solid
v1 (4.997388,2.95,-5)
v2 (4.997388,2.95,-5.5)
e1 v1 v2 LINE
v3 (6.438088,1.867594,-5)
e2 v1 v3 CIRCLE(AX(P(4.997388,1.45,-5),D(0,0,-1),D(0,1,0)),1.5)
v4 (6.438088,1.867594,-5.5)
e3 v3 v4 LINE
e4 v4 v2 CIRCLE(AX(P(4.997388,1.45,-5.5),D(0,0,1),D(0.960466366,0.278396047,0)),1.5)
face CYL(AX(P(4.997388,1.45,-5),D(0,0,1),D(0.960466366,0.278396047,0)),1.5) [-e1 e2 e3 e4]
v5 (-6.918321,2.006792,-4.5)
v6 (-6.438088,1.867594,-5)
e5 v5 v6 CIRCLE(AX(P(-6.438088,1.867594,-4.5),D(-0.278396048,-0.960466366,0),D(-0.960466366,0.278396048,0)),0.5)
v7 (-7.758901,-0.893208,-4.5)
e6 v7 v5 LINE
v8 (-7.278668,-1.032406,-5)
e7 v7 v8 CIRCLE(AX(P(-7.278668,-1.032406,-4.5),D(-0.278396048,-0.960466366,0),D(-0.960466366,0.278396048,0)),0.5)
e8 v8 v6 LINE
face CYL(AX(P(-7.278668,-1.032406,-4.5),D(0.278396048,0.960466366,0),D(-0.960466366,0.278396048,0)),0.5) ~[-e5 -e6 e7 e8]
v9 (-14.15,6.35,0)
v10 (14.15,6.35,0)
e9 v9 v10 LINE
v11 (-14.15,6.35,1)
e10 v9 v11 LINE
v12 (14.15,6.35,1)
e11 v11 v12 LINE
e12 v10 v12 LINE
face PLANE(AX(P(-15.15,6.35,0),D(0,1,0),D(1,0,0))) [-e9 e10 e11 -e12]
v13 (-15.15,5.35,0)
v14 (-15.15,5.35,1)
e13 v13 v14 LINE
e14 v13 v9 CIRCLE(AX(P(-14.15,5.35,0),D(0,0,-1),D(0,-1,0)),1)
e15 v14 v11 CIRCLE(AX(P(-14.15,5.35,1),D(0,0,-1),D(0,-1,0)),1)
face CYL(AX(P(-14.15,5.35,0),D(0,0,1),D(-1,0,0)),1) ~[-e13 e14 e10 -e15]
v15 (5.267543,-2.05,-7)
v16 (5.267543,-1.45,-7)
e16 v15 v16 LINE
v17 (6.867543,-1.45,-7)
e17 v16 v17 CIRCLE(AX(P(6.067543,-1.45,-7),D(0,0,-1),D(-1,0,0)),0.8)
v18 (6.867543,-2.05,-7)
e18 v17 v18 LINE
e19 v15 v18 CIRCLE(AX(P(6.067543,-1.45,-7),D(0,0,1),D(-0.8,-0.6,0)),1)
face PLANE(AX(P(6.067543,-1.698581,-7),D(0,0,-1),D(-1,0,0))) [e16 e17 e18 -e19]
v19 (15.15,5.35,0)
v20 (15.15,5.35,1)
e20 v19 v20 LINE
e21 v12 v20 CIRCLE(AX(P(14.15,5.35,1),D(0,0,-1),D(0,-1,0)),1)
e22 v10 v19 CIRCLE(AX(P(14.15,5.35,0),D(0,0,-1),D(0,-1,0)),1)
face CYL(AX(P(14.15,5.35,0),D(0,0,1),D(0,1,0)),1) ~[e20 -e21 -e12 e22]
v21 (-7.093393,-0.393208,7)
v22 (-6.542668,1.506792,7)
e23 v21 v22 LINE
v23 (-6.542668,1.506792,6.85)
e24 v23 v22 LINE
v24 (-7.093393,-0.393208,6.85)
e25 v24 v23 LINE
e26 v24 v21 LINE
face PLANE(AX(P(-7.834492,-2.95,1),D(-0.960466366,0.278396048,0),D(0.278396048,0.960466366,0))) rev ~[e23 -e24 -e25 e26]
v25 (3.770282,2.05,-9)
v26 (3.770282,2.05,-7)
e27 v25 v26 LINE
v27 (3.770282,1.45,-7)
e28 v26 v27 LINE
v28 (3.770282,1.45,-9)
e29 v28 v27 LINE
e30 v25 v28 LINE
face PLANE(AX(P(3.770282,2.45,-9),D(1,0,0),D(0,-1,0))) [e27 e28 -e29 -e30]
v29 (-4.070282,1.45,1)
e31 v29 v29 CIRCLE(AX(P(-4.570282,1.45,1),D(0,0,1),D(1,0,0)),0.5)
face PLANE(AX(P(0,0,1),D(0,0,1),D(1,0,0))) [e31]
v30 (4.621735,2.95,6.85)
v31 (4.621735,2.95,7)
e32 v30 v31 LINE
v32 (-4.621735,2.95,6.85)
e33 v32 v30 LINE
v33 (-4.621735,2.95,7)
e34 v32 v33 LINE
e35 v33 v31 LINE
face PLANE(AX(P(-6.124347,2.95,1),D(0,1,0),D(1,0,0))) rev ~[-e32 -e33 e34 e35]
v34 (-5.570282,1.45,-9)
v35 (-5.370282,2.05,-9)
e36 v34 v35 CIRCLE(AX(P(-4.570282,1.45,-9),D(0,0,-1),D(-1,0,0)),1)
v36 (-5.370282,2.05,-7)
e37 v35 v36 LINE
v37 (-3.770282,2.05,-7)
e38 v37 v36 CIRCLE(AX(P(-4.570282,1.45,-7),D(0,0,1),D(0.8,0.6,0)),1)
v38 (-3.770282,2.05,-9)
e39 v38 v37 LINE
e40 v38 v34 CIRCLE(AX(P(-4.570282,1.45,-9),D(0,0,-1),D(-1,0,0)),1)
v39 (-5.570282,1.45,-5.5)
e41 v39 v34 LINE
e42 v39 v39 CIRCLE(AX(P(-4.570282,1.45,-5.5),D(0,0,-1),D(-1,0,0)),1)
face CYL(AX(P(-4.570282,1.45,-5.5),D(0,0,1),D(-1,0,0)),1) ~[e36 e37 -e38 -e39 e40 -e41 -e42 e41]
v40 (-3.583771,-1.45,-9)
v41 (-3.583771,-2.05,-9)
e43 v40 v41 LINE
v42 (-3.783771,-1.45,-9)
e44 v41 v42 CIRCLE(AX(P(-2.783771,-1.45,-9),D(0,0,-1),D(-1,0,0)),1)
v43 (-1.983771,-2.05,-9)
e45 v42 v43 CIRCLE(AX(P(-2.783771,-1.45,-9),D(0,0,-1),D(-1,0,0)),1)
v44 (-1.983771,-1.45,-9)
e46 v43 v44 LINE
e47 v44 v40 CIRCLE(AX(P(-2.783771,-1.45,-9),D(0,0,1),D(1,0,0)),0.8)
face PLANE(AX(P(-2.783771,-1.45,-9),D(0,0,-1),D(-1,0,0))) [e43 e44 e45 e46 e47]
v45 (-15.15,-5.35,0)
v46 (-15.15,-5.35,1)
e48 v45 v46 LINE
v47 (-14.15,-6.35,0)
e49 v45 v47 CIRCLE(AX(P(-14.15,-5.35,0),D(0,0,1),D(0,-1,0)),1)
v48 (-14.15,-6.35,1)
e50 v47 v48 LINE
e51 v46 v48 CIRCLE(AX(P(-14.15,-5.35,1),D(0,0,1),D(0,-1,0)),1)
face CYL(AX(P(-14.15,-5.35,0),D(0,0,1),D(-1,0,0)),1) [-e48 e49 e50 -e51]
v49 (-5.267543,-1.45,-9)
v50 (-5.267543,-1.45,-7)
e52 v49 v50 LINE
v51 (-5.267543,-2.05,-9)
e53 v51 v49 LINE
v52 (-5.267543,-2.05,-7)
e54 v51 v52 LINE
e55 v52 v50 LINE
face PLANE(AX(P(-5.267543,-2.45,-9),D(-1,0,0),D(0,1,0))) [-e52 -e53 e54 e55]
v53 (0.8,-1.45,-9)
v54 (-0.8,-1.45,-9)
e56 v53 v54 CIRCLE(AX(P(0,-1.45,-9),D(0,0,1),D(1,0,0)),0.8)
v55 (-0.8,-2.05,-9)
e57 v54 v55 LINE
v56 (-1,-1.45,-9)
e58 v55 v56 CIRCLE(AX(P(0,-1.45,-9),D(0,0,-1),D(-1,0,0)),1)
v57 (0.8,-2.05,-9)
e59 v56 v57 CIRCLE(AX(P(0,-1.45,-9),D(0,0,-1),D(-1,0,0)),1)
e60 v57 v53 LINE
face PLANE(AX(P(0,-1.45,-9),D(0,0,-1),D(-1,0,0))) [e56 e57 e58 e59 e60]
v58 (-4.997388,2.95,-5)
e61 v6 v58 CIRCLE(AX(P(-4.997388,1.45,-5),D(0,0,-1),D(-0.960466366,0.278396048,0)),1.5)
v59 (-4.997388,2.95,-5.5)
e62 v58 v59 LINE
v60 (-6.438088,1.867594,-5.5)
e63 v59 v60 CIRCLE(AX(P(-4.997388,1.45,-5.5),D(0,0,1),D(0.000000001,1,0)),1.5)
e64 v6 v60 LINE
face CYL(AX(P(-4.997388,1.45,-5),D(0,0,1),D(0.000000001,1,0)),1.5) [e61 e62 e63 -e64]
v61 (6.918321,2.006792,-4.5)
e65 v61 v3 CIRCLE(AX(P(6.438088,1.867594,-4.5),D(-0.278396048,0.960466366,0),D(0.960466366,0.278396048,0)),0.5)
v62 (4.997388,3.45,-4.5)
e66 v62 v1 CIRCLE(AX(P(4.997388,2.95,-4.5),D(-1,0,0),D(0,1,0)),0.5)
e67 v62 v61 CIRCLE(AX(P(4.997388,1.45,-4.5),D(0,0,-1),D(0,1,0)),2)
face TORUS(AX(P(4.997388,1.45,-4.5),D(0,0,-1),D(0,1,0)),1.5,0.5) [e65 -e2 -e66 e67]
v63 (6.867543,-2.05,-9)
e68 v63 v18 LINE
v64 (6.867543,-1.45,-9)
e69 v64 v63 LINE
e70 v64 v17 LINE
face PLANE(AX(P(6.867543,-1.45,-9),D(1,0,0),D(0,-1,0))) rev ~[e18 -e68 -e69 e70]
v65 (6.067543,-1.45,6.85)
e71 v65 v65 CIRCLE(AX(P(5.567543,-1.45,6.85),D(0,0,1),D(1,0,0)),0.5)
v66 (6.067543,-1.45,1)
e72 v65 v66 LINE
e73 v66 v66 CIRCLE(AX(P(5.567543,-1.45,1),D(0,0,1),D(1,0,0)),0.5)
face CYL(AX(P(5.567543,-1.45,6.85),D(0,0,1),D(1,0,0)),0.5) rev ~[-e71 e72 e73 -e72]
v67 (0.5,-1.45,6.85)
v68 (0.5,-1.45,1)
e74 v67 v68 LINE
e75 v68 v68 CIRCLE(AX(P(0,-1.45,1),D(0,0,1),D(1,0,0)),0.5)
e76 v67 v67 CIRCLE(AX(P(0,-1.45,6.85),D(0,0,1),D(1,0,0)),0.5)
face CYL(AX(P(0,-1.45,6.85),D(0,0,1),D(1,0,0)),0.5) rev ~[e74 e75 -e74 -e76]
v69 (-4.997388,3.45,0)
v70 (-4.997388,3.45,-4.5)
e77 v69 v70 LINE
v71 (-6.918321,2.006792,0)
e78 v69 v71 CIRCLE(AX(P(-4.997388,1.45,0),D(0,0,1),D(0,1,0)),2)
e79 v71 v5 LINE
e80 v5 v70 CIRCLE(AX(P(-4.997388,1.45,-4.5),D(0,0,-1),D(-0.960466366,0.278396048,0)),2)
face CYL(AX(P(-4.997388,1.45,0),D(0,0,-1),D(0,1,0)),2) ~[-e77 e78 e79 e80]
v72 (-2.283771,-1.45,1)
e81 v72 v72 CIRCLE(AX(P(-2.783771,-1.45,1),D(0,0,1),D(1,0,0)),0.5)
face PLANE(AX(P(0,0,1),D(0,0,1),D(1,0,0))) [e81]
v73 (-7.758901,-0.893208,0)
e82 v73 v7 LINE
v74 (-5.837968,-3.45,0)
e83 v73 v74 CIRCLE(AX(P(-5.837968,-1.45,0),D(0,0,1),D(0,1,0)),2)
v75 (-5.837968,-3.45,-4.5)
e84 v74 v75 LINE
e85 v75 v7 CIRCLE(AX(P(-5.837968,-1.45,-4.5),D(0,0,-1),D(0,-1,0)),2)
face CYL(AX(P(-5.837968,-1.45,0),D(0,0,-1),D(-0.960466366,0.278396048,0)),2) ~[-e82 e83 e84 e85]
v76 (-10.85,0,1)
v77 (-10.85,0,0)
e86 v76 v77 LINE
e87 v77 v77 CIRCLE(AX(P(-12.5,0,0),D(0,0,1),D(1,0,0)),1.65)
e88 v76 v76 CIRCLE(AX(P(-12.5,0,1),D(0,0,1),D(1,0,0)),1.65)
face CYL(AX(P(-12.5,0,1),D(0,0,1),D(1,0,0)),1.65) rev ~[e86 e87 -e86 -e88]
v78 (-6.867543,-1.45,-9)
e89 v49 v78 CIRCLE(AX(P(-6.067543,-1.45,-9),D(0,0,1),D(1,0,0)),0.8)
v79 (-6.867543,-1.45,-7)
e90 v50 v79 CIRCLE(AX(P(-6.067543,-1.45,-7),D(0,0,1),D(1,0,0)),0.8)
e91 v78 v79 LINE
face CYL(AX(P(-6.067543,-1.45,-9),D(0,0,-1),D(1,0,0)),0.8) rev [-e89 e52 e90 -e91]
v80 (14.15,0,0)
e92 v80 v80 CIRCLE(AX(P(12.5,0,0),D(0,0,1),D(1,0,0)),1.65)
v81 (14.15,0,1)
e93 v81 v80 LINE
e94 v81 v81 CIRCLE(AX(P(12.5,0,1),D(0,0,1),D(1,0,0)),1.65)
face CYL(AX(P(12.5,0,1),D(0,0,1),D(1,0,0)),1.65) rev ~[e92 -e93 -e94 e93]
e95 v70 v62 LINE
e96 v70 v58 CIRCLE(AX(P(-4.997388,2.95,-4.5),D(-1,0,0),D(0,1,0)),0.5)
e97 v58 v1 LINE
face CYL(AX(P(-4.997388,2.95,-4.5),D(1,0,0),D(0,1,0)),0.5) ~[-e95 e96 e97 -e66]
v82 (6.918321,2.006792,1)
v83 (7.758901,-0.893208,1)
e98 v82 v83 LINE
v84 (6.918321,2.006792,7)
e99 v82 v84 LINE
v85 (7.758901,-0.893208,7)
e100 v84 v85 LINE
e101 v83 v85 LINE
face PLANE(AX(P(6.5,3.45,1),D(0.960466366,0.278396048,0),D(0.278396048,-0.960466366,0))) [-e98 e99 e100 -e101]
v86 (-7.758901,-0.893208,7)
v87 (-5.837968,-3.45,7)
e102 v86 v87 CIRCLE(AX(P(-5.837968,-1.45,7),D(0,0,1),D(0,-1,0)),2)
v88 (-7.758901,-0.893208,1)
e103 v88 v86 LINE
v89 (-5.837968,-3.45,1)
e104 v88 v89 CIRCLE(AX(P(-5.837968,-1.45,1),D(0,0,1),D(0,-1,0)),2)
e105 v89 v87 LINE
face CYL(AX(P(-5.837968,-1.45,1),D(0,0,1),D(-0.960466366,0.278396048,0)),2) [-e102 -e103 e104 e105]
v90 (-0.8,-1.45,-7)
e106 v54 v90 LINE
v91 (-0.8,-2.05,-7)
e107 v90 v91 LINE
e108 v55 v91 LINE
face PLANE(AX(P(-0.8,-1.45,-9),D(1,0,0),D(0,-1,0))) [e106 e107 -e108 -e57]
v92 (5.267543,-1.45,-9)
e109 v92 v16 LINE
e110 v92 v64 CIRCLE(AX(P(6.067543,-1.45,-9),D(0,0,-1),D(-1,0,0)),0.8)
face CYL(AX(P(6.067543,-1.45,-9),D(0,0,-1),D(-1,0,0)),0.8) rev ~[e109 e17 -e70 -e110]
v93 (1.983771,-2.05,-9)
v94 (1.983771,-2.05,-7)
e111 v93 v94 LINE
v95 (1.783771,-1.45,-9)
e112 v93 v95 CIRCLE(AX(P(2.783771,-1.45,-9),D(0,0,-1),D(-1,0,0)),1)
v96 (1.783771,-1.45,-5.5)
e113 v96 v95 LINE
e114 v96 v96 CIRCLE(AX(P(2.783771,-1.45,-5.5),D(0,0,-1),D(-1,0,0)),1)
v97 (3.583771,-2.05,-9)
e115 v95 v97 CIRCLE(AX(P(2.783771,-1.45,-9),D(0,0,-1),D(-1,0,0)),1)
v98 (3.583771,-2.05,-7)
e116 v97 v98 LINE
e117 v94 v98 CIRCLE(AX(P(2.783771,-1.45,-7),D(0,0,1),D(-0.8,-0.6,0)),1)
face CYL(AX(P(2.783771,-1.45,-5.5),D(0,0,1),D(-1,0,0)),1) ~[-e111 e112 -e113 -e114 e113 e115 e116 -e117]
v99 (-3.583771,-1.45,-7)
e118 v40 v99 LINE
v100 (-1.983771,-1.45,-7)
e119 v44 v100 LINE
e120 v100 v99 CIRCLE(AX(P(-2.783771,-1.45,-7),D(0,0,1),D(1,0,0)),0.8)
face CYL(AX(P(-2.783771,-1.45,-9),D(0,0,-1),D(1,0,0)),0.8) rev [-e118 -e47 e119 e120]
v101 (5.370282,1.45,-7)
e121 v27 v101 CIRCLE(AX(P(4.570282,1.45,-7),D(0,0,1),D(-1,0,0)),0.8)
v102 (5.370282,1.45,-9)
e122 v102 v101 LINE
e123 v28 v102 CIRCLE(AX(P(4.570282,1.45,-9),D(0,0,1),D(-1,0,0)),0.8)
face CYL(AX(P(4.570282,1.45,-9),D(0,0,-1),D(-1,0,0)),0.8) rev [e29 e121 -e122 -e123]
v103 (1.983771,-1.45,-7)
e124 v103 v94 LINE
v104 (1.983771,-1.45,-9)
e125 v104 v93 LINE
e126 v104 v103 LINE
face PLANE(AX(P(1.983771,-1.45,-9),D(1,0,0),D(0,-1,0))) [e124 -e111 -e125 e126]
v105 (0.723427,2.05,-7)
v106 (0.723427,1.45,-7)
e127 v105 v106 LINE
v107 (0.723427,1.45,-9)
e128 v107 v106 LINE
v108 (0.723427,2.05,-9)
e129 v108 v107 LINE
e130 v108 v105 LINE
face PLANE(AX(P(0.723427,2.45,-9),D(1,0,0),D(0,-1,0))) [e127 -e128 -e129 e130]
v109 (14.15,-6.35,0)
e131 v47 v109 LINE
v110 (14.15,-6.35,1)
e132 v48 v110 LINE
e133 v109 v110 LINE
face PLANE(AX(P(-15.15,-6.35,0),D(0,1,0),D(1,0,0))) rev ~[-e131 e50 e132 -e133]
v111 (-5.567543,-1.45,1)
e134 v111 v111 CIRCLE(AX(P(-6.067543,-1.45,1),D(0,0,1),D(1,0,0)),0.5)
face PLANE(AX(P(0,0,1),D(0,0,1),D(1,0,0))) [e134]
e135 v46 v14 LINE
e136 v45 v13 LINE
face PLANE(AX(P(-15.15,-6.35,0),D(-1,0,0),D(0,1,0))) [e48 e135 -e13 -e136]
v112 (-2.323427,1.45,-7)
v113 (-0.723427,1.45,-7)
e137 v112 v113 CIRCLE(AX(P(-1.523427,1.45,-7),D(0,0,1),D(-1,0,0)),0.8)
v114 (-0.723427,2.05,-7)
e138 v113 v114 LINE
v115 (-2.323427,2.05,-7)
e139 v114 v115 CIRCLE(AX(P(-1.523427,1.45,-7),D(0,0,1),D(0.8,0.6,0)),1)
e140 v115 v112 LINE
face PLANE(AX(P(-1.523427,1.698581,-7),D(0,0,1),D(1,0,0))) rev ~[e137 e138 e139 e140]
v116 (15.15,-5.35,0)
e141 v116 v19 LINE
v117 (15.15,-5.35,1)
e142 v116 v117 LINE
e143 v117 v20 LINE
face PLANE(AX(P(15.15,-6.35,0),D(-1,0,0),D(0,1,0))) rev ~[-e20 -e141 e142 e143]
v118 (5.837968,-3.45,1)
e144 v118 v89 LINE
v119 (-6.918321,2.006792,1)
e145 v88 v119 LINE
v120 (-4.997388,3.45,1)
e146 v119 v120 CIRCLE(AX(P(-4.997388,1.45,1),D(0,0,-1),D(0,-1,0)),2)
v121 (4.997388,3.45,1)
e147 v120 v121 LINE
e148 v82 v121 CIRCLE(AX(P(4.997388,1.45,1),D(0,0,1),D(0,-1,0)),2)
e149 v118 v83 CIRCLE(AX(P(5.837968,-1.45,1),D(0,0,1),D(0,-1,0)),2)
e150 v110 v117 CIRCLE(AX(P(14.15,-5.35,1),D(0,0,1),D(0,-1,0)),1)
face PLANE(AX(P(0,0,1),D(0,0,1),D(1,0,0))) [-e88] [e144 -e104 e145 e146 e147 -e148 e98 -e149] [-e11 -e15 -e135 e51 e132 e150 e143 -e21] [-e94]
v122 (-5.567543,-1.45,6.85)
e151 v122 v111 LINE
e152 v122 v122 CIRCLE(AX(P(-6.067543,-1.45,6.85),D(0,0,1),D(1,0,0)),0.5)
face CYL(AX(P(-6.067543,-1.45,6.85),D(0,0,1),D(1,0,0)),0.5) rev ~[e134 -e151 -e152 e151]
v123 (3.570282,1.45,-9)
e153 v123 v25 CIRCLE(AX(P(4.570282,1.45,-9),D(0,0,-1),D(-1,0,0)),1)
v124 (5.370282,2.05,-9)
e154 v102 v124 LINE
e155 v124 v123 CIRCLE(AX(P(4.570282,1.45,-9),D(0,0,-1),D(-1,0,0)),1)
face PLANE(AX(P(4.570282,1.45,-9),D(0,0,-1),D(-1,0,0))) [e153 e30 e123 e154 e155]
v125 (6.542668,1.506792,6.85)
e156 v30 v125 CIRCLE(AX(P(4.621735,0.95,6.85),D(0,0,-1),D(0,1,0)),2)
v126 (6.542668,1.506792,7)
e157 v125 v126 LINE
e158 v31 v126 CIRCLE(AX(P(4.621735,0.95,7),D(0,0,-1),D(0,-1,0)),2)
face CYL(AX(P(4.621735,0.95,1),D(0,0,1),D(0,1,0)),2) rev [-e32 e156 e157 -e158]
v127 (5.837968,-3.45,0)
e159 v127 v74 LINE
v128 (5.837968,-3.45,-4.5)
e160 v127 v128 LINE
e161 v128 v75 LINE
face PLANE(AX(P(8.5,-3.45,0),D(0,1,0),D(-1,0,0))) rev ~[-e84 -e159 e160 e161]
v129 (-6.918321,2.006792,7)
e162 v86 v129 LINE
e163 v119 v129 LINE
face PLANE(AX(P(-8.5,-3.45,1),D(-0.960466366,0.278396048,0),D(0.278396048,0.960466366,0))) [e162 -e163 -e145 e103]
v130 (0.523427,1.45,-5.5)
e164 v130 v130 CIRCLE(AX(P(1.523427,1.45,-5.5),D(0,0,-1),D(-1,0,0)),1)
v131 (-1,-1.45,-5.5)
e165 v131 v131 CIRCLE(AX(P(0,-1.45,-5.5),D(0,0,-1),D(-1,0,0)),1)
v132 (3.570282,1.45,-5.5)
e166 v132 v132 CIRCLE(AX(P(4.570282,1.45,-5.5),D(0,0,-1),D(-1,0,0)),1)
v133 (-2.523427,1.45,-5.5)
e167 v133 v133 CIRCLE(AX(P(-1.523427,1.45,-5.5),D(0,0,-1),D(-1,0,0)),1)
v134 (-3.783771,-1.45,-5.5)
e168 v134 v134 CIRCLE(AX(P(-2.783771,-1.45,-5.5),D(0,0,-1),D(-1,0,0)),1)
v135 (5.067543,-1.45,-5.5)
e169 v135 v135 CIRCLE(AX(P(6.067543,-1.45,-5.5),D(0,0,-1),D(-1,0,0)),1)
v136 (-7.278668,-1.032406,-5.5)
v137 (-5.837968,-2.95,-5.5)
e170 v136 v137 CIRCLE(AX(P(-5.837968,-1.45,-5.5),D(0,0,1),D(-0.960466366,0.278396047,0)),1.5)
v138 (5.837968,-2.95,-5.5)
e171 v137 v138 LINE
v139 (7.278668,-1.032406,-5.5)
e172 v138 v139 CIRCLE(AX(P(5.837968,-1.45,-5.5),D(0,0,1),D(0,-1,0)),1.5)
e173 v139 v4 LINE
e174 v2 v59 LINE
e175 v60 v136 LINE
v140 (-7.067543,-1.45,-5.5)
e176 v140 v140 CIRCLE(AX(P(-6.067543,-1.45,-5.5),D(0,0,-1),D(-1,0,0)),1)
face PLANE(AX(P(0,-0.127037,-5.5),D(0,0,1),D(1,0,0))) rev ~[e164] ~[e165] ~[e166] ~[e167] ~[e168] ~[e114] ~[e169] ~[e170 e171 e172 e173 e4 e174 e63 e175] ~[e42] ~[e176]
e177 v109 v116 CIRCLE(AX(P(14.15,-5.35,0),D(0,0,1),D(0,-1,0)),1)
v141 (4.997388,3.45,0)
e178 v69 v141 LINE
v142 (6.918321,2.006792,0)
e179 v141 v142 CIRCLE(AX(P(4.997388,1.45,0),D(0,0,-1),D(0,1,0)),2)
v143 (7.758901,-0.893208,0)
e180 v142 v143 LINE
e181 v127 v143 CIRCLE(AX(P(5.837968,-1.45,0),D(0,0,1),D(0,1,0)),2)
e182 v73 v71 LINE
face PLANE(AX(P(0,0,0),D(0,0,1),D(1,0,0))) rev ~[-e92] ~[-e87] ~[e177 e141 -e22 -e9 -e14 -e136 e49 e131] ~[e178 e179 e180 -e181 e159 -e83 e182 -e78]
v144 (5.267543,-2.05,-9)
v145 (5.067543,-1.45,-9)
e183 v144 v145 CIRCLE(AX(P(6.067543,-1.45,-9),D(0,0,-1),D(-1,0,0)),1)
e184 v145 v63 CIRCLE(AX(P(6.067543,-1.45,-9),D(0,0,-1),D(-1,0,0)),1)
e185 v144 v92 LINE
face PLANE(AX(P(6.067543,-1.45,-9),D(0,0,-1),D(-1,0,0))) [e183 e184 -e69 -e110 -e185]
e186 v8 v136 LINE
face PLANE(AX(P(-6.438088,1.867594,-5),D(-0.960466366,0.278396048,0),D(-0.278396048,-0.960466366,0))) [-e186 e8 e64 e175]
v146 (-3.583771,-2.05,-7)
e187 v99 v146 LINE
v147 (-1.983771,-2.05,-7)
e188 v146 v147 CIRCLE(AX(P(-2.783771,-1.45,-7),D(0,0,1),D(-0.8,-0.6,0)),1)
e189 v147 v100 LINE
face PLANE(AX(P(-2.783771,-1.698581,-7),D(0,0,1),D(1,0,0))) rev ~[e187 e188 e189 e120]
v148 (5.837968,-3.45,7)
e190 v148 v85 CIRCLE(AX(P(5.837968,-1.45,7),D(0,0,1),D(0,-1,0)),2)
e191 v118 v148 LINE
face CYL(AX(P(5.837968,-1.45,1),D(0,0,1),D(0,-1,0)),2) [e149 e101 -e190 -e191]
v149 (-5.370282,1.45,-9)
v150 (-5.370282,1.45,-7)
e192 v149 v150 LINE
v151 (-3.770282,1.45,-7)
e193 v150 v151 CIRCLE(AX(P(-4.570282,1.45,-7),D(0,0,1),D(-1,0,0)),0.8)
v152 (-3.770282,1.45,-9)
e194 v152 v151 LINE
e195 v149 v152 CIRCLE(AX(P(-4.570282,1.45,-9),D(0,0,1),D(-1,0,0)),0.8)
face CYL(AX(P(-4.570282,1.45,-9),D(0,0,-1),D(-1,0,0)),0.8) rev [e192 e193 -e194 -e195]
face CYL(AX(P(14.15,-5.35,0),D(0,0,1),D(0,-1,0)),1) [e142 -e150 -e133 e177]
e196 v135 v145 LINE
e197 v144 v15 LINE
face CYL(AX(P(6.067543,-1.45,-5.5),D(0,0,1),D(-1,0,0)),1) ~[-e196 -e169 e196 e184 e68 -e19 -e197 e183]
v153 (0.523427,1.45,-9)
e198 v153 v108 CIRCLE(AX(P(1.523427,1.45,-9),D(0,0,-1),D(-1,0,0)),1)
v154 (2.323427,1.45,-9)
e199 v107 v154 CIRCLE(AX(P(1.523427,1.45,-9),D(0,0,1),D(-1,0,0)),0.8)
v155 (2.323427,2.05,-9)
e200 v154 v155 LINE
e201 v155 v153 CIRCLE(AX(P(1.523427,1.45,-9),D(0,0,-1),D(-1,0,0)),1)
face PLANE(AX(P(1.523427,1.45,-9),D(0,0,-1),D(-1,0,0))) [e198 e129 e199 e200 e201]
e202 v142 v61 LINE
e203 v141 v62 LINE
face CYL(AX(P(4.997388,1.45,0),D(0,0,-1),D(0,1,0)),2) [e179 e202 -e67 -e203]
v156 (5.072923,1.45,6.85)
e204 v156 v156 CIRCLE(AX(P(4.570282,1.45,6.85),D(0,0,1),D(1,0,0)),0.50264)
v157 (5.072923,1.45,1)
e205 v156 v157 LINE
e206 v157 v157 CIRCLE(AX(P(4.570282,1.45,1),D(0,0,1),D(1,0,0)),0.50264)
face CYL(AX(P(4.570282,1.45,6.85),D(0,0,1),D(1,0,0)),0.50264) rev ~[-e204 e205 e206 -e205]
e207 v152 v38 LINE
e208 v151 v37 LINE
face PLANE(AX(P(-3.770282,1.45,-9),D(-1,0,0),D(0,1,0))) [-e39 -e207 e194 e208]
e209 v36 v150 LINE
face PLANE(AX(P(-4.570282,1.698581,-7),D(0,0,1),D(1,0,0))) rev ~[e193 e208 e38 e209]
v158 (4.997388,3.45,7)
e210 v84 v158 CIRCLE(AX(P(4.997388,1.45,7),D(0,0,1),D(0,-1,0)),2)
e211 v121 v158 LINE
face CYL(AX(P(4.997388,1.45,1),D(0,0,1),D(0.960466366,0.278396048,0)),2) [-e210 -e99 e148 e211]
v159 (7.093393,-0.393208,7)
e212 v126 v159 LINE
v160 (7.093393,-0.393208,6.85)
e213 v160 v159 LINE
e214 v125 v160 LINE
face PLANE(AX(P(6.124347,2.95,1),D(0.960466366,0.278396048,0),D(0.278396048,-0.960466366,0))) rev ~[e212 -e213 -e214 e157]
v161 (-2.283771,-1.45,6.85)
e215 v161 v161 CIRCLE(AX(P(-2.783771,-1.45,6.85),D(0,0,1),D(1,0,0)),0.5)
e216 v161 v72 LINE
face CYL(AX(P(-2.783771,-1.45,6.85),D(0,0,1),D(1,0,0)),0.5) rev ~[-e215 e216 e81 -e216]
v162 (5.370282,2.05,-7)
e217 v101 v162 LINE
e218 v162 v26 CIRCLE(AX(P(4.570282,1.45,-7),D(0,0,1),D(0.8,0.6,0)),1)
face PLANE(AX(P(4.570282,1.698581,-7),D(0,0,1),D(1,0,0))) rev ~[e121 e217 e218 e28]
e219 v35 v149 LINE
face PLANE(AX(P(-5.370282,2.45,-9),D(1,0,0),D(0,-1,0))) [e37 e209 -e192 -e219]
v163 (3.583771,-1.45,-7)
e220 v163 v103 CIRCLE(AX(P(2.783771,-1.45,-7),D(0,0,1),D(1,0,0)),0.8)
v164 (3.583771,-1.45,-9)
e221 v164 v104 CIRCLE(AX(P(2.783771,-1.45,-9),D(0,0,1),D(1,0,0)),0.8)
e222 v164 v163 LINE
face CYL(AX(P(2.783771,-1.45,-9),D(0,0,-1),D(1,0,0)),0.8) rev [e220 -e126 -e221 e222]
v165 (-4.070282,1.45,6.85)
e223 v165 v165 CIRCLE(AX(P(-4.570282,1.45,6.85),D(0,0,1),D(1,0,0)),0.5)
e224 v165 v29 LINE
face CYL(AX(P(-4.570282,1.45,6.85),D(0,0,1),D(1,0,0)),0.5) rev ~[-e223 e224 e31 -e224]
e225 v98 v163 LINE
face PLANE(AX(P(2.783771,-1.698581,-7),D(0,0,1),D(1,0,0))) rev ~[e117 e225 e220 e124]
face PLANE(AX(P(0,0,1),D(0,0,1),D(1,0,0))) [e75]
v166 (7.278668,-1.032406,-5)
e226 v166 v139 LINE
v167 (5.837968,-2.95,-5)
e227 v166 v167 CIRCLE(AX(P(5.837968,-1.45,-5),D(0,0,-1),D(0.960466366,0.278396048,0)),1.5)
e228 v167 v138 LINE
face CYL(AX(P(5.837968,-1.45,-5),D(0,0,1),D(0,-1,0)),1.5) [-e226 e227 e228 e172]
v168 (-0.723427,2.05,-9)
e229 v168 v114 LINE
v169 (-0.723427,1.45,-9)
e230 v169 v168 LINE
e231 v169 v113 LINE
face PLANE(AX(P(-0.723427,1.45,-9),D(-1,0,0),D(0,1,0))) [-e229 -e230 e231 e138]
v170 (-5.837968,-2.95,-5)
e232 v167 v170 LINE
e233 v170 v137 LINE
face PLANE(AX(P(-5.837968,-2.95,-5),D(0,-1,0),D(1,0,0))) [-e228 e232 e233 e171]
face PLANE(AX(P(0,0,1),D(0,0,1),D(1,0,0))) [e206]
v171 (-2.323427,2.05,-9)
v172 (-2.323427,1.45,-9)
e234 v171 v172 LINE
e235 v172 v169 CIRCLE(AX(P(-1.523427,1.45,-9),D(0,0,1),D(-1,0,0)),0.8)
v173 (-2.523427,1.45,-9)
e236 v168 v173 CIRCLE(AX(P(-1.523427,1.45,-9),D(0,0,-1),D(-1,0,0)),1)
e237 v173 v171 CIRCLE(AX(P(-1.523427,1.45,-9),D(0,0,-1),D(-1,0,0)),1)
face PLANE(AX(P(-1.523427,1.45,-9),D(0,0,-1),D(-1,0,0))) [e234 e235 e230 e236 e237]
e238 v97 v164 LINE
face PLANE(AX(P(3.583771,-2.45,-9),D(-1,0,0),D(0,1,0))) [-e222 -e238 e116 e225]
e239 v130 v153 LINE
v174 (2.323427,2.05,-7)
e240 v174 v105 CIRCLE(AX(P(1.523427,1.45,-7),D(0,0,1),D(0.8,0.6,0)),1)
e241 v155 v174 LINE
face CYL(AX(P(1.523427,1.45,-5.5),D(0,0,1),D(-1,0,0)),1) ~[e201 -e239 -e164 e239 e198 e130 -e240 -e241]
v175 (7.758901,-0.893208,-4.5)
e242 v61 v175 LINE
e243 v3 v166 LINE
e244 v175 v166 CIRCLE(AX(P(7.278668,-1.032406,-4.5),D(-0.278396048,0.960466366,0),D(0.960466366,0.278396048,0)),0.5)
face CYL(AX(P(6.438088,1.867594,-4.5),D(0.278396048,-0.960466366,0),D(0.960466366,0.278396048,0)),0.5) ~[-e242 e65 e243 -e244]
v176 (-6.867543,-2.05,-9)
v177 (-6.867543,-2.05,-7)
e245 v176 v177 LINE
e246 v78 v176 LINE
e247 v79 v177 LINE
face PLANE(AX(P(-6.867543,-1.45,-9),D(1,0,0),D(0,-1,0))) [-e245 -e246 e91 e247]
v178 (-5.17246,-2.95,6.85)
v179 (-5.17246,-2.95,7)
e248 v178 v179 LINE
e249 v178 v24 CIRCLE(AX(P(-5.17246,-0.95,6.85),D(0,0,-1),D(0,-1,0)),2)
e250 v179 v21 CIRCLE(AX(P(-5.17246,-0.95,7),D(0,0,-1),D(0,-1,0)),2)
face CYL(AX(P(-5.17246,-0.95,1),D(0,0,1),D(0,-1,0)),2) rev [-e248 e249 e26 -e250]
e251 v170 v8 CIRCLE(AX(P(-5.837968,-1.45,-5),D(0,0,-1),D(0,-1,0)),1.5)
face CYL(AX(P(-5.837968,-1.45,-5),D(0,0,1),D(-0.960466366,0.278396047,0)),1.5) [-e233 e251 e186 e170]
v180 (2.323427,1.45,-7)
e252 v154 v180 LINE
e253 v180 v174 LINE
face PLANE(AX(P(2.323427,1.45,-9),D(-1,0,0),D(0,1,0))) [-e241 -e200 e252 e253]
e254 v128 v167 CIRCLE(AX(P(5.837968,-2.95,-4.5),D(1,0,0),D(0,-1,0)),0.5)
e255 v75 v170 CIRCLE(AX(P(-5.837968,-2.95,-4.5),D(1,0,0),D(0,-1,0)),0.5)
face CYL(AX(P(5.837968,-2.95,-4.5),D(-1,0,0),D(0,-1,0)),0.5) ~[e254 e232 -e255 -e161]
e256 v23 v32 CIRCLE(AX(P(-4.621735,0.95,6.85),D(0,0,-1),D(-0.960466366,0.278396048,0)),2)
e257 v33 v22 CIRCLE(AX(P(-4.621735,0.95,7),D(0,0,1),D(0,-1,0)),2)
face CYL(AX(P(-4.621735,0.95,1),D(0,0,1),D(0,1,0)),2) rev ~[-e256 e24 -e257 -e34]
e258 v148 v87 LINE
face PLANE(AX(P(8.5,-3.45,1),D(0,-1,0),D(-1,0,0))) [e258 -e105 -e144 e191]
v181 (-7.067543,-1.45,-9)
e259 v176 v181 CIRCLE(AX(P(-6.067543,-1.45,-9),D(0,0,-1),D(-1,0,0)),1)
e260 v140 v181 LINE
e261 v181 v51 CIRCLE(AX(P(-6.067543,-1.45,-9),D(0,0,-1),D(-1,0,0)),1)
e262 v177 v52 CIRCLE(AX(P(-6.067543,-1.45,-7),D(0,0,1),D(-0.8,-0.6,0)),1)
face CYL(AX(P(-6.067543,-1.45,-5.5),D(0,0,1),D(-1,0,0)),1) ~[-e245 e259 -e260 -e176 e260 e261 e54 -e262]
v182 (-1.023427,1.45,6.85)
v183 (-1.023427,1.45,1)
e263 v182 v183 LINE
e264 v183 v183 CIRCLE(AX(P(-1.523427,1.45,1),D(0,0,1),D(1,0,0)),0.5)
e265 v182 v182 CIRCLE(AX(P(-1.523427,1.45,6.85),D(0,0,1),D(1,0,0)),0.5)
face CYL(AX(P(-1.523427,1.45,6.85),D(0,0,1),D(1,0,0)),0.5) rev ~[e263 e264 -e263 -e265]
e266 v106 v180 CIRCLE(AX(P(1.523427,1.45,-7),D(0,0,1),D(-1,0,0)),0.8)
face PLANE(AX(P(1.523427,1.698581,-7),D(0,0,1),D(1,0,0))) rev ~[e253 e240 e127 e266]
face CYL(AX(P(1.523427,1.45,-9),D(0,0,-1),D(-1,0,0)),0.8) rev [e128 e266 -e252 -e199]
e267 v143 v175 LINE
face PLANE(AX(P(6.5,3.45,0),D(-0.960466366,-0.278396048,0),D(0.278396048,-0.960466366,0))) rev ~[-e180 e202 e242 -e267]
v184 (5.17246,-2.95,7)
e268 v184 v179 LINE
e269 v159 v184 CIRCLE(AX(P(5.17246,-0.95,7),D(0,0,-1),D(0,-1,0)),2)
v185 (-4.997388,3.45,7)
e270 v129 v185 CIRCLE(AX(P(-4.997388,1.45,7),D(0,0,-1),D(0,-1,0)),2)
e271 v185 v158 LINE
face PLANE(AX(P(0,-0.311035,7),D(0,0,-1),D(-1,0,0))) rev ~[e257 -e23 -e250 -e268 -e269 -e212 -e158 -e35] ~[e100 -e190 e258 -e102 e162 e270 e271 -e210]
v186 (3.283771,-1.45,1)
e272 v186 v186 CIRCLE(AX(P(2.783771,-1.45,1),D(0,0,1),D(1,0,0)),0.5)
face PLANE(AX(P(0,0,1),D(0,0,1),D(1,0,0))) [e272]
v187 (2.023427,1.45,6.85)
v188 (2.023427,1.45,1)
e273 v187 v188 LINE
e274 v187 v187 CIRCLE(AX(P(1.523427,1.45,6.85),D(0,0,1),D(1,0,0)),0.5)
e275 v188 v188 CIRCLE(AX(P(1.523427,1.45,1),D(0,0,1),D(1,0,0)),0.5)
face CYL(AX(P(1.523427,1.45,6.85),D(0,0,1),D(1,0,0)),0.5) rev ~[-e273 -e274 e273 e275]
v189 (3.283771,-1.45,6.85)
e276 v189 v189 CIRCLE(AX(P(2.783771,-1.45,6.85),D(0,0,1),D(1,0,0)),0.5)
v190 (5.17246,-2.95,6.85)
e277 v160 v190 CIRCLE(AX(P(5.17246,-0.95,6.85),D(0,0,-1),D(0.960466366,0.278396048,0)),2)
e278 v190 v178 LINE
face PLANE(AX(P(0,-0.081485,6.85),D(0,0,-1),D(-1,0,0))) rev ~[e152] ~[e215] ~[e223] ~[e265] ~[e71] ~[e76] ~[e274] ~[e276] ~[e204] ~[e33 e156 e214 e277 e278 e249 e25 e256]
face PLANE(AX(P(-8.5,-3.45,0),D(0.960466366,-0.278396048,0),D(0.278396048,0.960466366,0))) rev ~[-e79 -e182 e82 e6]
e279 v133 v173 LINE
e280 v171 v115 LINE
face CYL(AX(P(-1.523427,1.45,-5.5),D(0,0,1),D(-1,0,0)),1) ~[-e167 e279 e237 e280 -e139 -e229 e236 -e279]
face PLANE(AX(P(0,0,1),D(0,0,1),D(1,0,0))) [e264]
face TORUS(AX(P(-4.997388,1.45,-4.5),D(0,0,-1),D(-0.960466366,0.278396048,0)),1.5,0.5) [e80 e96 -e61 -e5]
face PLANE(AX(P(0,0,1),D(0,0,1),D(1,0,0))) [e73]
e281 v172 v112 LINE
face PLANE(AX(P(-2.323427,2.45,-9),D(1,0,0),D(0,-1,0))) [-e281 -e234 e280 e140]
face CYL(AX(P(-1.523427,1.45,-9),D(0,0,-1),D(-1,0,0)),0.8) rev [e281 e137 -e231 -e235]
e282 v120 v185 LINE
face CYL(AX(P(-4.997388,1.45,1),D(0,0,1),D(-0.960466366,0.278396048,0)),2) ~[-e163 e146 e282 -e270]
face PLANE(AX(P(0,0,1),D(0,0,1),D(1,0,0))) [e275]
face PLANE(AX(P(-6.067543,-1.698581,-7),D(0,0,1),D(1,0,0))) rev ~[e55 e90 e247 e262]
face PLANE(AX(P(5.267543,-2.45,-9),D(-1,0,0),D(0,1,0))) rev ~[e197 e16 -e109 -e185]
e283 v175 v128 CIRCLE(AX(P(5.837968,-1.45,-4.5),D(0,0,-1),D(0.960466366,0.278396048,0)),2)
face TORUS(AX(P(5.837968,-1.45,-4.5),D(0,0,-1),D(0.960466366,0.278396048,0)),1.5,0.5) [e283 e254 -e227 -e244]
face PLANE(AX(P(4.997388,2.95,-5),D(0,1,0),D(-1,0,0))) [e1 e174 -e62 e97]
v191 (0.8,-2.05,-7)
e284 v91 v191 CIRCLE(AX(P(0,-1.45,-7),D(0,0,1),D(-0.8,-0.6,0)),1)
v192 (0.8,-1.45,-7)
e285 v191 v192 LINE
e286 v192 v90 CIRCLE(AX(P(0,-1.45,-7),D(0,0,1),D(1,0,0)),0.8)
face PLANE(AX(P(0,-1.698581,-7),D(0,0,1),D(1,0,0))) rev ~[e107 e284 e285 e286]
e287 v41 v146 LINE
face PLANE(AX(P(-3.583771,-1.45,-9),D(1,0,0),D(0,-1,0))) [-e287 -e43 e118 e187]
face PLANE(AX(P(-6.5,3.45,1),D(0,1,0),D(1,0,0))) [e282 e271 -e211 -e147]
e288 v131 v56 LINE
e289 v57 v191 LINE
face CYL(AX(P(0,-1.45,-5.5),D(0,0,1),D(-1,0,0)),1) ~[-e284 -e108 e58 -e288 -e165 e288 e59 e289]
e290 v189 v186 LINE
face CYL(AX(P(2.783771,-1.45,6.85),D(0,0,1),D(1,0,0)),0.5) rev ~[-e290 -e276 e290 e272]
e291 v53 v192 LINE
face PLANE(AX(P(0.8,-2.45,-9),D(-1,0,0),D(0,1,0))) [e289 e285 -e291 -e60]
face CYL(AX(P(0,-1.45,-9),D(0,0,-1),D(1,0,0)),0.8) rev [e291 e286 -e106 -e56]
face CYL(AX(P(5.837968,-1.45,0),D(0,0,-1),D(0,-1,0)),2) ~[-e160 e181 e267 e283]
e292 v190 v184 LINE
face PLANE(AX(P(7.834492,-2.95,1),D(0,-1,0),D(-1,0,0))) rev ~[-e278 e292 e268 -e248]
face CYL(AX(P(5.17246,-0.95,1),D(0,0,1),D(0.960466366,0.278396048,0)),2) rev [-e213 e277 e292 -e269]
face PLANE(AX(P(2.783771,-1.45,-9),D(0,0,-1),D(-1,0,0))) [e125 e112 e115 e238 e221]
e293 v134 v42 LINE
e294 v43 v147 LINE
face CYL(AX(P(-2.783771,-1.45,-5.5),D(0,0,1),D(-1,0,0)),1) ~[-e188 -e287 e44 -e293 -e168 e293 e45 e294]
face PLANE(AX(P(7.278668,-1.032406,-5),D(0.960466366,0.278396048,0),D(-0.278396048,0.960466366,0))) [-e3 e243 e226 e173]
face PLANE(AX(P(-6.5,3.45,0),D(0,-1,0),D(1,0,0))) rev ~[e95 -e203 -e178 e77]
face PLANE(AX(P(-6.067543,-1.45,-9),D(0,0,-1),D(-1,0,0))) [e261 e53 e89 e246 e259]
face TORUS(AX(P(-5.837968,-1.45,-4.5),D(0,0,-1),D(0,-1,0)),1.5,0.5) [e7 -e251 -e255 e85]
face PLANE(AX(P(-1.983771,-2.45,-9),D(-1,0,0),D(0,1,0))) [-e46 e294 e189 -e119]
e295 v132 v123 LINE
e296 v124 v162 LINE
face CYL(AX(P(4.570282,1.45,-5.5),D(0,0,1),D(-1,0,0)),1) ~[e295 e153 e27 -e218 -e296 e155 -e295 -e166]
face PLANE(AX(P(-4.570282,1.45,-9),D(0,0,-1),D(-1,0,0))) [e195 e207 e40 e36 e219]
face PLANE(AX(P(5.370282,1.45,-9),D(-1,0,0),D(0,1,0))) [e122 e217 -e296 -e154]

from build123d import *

# Parameters (mm, degrees)
SKETCH1_W       = 30.3
SKETCH1_H       = 12.7
EXTRUDE1_DEPTH  = 1
SKETCH2_R       = 1.65
EXTRUDE2_DEPTH  = 17.45736917
EXTRUDE3_DEPTH  = 6
FILLET2_R       = 1
EXTRUDE4_DEPTH  = 5
FILLET1_R       = 2
FILLET3_R       = 0.5
EXTRUDE5_DEPTH  = 0.5
SKETCH6_R       = 1
EXTRUDE6_DEPTH  = 3.5
EXTRUDE15_DEPTH = 2
EXTRUDE16_START = 5.85
SKETCH8_R       = 0.5
SKETCH8_R_2     = 0.502640461
EXTRUDE16_DEPTH = 5.85


with BuildPart() as part:
    # Sketch1 → Extrude1 (new body)
    with BuildSketch(Plane.XY):
        Rectangle(SKETCH1_W, SKETCH1_H)
    extrude(amount=EXTRUDE1_DEPTH)

    # Sketch2 → Extrude2 (cut, through all)
    with BuildSketch(Plane.XY.offset(1)):
        with Locations((-12.5, 0)):
            Circle(SKETCH2_R)
        with Locations((12.5, 0)):
            Circle(SKETCH2_R)
    extrude(amount=-EXTRUDE2_DEPTH, mode=Mode.SUBTRACT)

    # Sketch3 → Extrude3 (add)
    with BuildSketch(Plane.XY.offset(1)):
        Polygon((6.5, 3.45), (-6.5, 3.45), (-8.5, -3.45), (8.5, -3.45), align=None)
        Polygon((-7.834492027, -2.95), (-6.1243471, 2.95), (6.1243471, 2.95), (7.834492027, -2.95), align=None, mode=Mode.SUBTRACT)
    extrude(amount=EXTRUDE3_DEPTH)

    # Fillet2
    fillet2_edges = [part.edges().sort_by_distance(p)[0] for p in [
        (15.15, -6.35, 0.5),
        (-15.15, -6.35, 0.5),
        (-15.15, 6.35, 0.5),
        (15.15, 6.35, 0.5),
    ]]
    fillet(fillet2_edges, radius=FILLET2_R)

    # Sketch4 → Extrude4 (add)
    with BuildSketch(Plane(origin=(0, 0, 0), x_dir=(-1, 0, 0), z_dir=(0, 0, -1))):
        Polygon((-6.5, 3.45), (-8.5, -3.45), (8.5, -3.45), (6.5, 3.45), align=None)
    extrude(amount=EXTRUDE4_DEPTH)

    # Fillet1
    fillet1_edges = [part.edges().sort_by_distance(p)[0] for p in [
        (-6.1243471, 2.95, 4),
        (-6.5, 3.45, 4),
        (-7.834492027, -2.95, 4),
        (-8.5, -3.45, 4),
        (7.834492027, -2.95, 4),
        (8.5, -3.45, 4),
        (6.1243471, 2.95, 4),
        (6.5, 3.45, 4),
        (-8.5, -3.45, -2.5),
        (-6.5, 3.45, -2.5),
        (8.5, -3.45, -2.5),
        (6.5, 3.45, -2.5),
    ]]
    fillet(fillet1_edges, radius=FILLET1_R)

    # Fillet3
    fillet3_edges = [part.edges().sort_by_distance(p)[0] for p in [
        (7.436965325, -2.651335883, -5),
        (7.338610987, 0.556792096, -5),
        (6.198724282, 3.048997216, -5),
        (0, 3.45, -5),
        (-6.198724282, 3.048997216, -5),
        (-7.338610987, 0.556792096, -5),
        (-7.436965325, -2.651335883, -5),
        (0, -3.45, -5),
    ]]
    fillet(fillet3_edges, radius=FILLET3_R)

    # Sketch5 → Extrude5 (add)
    with BuildSketch(Plane(origin=(0, 0, -5), x_dir=(-1, 0, 0), z_dir=(0, 0, -1))):
        with BuildLine():
            Line((-4.997388399, 2.95), (4.997388399, 2.95))
            ThreePointArc((4.997388399, 2.95), (5.898390312, 2.649247912), (6.438087948, 1.867594072))
            Line((6.438087948, 1.867594072), (7.278667659, -1.032405928))
            ThreePointArc((7.278667659, -1.032405928), (7.037216021, -2.351001912), (5.837968109, -2.95))
            Line((5.837968109, -2.95), (-5.837968109, -2.95))
            ThreePointArc((-5.837968109, -2.95), (-7.037216021, -2.351001912), (-7.278667659, -1.032405928))
            Line((-7.278667659, -1.032405928), (-6.438087948, 1.867594072))
            ThreePointArc((-6.438087948, 1.867594072), (-5.898390312, 2.649247912), (-4.997388399, 2.95))
        make_face()
    extrude(amount=EXTRUDE5_DEPTH)

    # Sketch6 → Extrude6 (add)
    with BuildSketch(Plane(origin=(0, 0, -5.5), x_dir=(-1, 0, 0), z_dir=(0, 0, -1))):
        with Locations((-4.570282288, 1.45)):
            Circle(SKETCH6_R)
        with Locations((-1.523427429, 1.45)):
            Circle(SKETCH6_R)
        with Locations((1.523427429, 1.45)):
            Circle(SKETCH6_R)
        with Locations((4.570282288, 1.45)):
            Circle(SKETCH6_R)
        with Locations((6.067542907, -1.45)):
            Circle(SKETCH6_R)
        with Locations((2.783771454, -1.45)):
            Circle(SKETCH6_R)
        with Locations((0, -1.45)):
            Circle(SKETCH6_R)
        with Locations((-2.783771454, -1.45)):
            Circle(SKETCH6_R)
        with Locations((-6.067542907, -1.45)):
            Circle(SKETCH6_R)
    extrude(amount=EXTRUDE6_DEPTH)

    # Sketch7 → Extrude15 (cut)
    with BuildSketch(Plane(origin=(0, 0, -9), x_dir=(-1, 0, 0), z_dir=(0, 0, -1))):
        with BuildLine():
            Line((-2.323427429, 1.45), (-2.323427429, 2.45))
            Line((-2.323427429, 2.45), (-0.723427429, 2.45))
            Line((-0.723427429, 2.45), (-0.723427429, 1.45))
            ThreePointArc((-0.723427429, 1.45), (-1.523427429, 0.65), (-2.323427429, 1.45))
        make_face()
        with BuildLine():
            Line((-5.370282288, 1.45), (-5.370282288, 2.45))
            Line((-5.370282288, 2.45), (-3.770282288, 2.45))
            Line((-3.770282288, 2.45), (-3.770282288, 1.45))
            ThreePointArc((-3.770282288, 1.45), (-4.570282288, 0.65), (-5.370282288, 1.45))
        make_face()
        with BuildLine():
            Line((-6.867542907, -1.45), (-6.867542907, -2.45))
            Line((-6.867542907, -2.45), (-5.267542907, -2.45))
            Line((-5.267542907, -2.45), (-5.267542907, -1.45))
            ThreePointArc((-5.267542907, -1.45), (-6.067542907, -0.65), (-6.867542907, -1.45))
        make_face()
        with BuildLine():
            Line((0.723427429, 1.45), (0.723427429, 2.45))
            Line((0.723427429, 2.45), (2.323427429, 2.45))
            Line((2.323427429, 2.45), (2.323427429, 1.45))
            ThreePointArc((2.323427429, 1.45), (1.523427429, 0.65), (0.723427429, 1.45))
        make_face()
        with BuildLine():
            Line((3.770282288, 1.45), (3.770282288, 2.45))
            Line((3.770282288, 2.45), (5.370282288, 2.45))
            Line((5.370282288, 2.45), (5.370282288, 1.45))
            ThreePointArc((5.370282288, 1.45), (4.570282288, 0.65), (3.770282288, 1.45))
        make_face()
        with BuildLine():
            Line((-1.983771454, -1.45), (-1.983771454, -2.45))
            Line((-1.983771454, -2.45), (-3.583771454, -2.45))
            Line((-3.583771454, -2.45), (-3.583771454, -1.45))
            ThreePointArc((-3.583771454, -1.45), (-2.783771454, -0.65), (-1.983771454, -1.45))
        make_face()
        with BuildLine():
            Line((0.8, -1.45), (0.8, -2.45))
            Line((0.8, -2.45), (-0.8, -2.45))
            Line((-0.8, -2.45), (-0.8, -1.45))
            ThreePointArc((-0.8, -1.45), (0, -0.65), (0.8, -1.45))
        make_face()
        with BuildLine():
            Line((3.583771454, -1.45), (3.583771454, -2.45))
            Line((3.583771454, -2.45), (1.983771454, -2.45))
            Line((1.983771454, -2.45), (1.983771454, -1.45))
            ThreePointArc((1.983771454, -1.45), (2.783771454, -0.65), (3.583771454, -1.45))
        make_face()
        with BuildLine():
            Line((6.867542907, -1.45), (6.867542907, -2.45))
            Line((6.867542907, -2.45), (5.267542907, -2.45))
            Line((5.267542907, -2.45), (5.267542907, -1.45))
            ThreePointArc((5.267542907, -1.45), (6.067542907, -0.65), (6.867542907, -1.45))
        make_face()
    extrude(amount=-EXTRUDE15_DEPTH, mode=Mode.SUBTRACT)

    # Sketch8 → Extrude16 (add)
    with BuildSketch(Plane.XY.offset(1).offset(EXTRUDE16_START)):
        with BuildLine():
            Line((-4.621735499, 2.95), (4.621735499, 2.95))
            ThreePointArc((4.621735499, 2.95), (5.823071382, 2.548997216), (6.542668231, 1.506792096))
            Line((6.542668231, 1.506792096), (7.093392869, -0.393207904))
            ThreePointArc((7.093392869, -0.393207904), (6.771457353, -2.151335883), (5.172460137, -2.95))
            Line((5.172460137, -2.95), (-5.172460137, -2.95))
            ThreePointArc((-5.172460137, -2.95), (-6.771457353, -2.151335883), (-7.093392869, -0.393207904))
            Line((-7.093392869, -0.393207904), (-6.542668231, 1.506792096))
            ThreePointArc((-6.542668231, 1.506792096), (-5.823071382, 2.548997216), (-4.621735499, 2.95))
        make_face()
        with Locations((-4.570282288, 1.45)):
            Circle(SKETCH8_R, mode=Mode.SUBTRACT)
        with Locations((-1.523427429, 1.45)):
            Circle(SKETCH8_R, mode=Mode.SUBTRACT)
        with Locations((1.523427429, 1.45)):
            Circle(SKETCH8_R, mode=Mode.SUBTRACT)
        with Locations((4.570282288, 1.45)):
            Circle(SKETCH8_R_2, mode=Mode.SUBTRACT)
        with Locations((5.567542907, -1.45)):
            Circle(SKETCH8_R, mode=Mode.SUBTRACT)
        with Locations((2.783771454, -1.45)):
            Circle(SKETCH8_R, mode=Mode.SUBTRACT)
        with Locations((0, -1.45)):
            Circle(SKETCH8_R, mode=Mode.SUBTRACT)
        with Locations((-2.783771454, -1.45)):
            Circle(SKETCH8_R, mode=Mode.SUBTRACT)
        with Locations((-6.067542907, -1.45)):
            Circle(SKETCH8_R, mode=Mode.SUBTRACT)
    extrude(amount=-EXTRUDE16_DEPTH)


solid = part.part
